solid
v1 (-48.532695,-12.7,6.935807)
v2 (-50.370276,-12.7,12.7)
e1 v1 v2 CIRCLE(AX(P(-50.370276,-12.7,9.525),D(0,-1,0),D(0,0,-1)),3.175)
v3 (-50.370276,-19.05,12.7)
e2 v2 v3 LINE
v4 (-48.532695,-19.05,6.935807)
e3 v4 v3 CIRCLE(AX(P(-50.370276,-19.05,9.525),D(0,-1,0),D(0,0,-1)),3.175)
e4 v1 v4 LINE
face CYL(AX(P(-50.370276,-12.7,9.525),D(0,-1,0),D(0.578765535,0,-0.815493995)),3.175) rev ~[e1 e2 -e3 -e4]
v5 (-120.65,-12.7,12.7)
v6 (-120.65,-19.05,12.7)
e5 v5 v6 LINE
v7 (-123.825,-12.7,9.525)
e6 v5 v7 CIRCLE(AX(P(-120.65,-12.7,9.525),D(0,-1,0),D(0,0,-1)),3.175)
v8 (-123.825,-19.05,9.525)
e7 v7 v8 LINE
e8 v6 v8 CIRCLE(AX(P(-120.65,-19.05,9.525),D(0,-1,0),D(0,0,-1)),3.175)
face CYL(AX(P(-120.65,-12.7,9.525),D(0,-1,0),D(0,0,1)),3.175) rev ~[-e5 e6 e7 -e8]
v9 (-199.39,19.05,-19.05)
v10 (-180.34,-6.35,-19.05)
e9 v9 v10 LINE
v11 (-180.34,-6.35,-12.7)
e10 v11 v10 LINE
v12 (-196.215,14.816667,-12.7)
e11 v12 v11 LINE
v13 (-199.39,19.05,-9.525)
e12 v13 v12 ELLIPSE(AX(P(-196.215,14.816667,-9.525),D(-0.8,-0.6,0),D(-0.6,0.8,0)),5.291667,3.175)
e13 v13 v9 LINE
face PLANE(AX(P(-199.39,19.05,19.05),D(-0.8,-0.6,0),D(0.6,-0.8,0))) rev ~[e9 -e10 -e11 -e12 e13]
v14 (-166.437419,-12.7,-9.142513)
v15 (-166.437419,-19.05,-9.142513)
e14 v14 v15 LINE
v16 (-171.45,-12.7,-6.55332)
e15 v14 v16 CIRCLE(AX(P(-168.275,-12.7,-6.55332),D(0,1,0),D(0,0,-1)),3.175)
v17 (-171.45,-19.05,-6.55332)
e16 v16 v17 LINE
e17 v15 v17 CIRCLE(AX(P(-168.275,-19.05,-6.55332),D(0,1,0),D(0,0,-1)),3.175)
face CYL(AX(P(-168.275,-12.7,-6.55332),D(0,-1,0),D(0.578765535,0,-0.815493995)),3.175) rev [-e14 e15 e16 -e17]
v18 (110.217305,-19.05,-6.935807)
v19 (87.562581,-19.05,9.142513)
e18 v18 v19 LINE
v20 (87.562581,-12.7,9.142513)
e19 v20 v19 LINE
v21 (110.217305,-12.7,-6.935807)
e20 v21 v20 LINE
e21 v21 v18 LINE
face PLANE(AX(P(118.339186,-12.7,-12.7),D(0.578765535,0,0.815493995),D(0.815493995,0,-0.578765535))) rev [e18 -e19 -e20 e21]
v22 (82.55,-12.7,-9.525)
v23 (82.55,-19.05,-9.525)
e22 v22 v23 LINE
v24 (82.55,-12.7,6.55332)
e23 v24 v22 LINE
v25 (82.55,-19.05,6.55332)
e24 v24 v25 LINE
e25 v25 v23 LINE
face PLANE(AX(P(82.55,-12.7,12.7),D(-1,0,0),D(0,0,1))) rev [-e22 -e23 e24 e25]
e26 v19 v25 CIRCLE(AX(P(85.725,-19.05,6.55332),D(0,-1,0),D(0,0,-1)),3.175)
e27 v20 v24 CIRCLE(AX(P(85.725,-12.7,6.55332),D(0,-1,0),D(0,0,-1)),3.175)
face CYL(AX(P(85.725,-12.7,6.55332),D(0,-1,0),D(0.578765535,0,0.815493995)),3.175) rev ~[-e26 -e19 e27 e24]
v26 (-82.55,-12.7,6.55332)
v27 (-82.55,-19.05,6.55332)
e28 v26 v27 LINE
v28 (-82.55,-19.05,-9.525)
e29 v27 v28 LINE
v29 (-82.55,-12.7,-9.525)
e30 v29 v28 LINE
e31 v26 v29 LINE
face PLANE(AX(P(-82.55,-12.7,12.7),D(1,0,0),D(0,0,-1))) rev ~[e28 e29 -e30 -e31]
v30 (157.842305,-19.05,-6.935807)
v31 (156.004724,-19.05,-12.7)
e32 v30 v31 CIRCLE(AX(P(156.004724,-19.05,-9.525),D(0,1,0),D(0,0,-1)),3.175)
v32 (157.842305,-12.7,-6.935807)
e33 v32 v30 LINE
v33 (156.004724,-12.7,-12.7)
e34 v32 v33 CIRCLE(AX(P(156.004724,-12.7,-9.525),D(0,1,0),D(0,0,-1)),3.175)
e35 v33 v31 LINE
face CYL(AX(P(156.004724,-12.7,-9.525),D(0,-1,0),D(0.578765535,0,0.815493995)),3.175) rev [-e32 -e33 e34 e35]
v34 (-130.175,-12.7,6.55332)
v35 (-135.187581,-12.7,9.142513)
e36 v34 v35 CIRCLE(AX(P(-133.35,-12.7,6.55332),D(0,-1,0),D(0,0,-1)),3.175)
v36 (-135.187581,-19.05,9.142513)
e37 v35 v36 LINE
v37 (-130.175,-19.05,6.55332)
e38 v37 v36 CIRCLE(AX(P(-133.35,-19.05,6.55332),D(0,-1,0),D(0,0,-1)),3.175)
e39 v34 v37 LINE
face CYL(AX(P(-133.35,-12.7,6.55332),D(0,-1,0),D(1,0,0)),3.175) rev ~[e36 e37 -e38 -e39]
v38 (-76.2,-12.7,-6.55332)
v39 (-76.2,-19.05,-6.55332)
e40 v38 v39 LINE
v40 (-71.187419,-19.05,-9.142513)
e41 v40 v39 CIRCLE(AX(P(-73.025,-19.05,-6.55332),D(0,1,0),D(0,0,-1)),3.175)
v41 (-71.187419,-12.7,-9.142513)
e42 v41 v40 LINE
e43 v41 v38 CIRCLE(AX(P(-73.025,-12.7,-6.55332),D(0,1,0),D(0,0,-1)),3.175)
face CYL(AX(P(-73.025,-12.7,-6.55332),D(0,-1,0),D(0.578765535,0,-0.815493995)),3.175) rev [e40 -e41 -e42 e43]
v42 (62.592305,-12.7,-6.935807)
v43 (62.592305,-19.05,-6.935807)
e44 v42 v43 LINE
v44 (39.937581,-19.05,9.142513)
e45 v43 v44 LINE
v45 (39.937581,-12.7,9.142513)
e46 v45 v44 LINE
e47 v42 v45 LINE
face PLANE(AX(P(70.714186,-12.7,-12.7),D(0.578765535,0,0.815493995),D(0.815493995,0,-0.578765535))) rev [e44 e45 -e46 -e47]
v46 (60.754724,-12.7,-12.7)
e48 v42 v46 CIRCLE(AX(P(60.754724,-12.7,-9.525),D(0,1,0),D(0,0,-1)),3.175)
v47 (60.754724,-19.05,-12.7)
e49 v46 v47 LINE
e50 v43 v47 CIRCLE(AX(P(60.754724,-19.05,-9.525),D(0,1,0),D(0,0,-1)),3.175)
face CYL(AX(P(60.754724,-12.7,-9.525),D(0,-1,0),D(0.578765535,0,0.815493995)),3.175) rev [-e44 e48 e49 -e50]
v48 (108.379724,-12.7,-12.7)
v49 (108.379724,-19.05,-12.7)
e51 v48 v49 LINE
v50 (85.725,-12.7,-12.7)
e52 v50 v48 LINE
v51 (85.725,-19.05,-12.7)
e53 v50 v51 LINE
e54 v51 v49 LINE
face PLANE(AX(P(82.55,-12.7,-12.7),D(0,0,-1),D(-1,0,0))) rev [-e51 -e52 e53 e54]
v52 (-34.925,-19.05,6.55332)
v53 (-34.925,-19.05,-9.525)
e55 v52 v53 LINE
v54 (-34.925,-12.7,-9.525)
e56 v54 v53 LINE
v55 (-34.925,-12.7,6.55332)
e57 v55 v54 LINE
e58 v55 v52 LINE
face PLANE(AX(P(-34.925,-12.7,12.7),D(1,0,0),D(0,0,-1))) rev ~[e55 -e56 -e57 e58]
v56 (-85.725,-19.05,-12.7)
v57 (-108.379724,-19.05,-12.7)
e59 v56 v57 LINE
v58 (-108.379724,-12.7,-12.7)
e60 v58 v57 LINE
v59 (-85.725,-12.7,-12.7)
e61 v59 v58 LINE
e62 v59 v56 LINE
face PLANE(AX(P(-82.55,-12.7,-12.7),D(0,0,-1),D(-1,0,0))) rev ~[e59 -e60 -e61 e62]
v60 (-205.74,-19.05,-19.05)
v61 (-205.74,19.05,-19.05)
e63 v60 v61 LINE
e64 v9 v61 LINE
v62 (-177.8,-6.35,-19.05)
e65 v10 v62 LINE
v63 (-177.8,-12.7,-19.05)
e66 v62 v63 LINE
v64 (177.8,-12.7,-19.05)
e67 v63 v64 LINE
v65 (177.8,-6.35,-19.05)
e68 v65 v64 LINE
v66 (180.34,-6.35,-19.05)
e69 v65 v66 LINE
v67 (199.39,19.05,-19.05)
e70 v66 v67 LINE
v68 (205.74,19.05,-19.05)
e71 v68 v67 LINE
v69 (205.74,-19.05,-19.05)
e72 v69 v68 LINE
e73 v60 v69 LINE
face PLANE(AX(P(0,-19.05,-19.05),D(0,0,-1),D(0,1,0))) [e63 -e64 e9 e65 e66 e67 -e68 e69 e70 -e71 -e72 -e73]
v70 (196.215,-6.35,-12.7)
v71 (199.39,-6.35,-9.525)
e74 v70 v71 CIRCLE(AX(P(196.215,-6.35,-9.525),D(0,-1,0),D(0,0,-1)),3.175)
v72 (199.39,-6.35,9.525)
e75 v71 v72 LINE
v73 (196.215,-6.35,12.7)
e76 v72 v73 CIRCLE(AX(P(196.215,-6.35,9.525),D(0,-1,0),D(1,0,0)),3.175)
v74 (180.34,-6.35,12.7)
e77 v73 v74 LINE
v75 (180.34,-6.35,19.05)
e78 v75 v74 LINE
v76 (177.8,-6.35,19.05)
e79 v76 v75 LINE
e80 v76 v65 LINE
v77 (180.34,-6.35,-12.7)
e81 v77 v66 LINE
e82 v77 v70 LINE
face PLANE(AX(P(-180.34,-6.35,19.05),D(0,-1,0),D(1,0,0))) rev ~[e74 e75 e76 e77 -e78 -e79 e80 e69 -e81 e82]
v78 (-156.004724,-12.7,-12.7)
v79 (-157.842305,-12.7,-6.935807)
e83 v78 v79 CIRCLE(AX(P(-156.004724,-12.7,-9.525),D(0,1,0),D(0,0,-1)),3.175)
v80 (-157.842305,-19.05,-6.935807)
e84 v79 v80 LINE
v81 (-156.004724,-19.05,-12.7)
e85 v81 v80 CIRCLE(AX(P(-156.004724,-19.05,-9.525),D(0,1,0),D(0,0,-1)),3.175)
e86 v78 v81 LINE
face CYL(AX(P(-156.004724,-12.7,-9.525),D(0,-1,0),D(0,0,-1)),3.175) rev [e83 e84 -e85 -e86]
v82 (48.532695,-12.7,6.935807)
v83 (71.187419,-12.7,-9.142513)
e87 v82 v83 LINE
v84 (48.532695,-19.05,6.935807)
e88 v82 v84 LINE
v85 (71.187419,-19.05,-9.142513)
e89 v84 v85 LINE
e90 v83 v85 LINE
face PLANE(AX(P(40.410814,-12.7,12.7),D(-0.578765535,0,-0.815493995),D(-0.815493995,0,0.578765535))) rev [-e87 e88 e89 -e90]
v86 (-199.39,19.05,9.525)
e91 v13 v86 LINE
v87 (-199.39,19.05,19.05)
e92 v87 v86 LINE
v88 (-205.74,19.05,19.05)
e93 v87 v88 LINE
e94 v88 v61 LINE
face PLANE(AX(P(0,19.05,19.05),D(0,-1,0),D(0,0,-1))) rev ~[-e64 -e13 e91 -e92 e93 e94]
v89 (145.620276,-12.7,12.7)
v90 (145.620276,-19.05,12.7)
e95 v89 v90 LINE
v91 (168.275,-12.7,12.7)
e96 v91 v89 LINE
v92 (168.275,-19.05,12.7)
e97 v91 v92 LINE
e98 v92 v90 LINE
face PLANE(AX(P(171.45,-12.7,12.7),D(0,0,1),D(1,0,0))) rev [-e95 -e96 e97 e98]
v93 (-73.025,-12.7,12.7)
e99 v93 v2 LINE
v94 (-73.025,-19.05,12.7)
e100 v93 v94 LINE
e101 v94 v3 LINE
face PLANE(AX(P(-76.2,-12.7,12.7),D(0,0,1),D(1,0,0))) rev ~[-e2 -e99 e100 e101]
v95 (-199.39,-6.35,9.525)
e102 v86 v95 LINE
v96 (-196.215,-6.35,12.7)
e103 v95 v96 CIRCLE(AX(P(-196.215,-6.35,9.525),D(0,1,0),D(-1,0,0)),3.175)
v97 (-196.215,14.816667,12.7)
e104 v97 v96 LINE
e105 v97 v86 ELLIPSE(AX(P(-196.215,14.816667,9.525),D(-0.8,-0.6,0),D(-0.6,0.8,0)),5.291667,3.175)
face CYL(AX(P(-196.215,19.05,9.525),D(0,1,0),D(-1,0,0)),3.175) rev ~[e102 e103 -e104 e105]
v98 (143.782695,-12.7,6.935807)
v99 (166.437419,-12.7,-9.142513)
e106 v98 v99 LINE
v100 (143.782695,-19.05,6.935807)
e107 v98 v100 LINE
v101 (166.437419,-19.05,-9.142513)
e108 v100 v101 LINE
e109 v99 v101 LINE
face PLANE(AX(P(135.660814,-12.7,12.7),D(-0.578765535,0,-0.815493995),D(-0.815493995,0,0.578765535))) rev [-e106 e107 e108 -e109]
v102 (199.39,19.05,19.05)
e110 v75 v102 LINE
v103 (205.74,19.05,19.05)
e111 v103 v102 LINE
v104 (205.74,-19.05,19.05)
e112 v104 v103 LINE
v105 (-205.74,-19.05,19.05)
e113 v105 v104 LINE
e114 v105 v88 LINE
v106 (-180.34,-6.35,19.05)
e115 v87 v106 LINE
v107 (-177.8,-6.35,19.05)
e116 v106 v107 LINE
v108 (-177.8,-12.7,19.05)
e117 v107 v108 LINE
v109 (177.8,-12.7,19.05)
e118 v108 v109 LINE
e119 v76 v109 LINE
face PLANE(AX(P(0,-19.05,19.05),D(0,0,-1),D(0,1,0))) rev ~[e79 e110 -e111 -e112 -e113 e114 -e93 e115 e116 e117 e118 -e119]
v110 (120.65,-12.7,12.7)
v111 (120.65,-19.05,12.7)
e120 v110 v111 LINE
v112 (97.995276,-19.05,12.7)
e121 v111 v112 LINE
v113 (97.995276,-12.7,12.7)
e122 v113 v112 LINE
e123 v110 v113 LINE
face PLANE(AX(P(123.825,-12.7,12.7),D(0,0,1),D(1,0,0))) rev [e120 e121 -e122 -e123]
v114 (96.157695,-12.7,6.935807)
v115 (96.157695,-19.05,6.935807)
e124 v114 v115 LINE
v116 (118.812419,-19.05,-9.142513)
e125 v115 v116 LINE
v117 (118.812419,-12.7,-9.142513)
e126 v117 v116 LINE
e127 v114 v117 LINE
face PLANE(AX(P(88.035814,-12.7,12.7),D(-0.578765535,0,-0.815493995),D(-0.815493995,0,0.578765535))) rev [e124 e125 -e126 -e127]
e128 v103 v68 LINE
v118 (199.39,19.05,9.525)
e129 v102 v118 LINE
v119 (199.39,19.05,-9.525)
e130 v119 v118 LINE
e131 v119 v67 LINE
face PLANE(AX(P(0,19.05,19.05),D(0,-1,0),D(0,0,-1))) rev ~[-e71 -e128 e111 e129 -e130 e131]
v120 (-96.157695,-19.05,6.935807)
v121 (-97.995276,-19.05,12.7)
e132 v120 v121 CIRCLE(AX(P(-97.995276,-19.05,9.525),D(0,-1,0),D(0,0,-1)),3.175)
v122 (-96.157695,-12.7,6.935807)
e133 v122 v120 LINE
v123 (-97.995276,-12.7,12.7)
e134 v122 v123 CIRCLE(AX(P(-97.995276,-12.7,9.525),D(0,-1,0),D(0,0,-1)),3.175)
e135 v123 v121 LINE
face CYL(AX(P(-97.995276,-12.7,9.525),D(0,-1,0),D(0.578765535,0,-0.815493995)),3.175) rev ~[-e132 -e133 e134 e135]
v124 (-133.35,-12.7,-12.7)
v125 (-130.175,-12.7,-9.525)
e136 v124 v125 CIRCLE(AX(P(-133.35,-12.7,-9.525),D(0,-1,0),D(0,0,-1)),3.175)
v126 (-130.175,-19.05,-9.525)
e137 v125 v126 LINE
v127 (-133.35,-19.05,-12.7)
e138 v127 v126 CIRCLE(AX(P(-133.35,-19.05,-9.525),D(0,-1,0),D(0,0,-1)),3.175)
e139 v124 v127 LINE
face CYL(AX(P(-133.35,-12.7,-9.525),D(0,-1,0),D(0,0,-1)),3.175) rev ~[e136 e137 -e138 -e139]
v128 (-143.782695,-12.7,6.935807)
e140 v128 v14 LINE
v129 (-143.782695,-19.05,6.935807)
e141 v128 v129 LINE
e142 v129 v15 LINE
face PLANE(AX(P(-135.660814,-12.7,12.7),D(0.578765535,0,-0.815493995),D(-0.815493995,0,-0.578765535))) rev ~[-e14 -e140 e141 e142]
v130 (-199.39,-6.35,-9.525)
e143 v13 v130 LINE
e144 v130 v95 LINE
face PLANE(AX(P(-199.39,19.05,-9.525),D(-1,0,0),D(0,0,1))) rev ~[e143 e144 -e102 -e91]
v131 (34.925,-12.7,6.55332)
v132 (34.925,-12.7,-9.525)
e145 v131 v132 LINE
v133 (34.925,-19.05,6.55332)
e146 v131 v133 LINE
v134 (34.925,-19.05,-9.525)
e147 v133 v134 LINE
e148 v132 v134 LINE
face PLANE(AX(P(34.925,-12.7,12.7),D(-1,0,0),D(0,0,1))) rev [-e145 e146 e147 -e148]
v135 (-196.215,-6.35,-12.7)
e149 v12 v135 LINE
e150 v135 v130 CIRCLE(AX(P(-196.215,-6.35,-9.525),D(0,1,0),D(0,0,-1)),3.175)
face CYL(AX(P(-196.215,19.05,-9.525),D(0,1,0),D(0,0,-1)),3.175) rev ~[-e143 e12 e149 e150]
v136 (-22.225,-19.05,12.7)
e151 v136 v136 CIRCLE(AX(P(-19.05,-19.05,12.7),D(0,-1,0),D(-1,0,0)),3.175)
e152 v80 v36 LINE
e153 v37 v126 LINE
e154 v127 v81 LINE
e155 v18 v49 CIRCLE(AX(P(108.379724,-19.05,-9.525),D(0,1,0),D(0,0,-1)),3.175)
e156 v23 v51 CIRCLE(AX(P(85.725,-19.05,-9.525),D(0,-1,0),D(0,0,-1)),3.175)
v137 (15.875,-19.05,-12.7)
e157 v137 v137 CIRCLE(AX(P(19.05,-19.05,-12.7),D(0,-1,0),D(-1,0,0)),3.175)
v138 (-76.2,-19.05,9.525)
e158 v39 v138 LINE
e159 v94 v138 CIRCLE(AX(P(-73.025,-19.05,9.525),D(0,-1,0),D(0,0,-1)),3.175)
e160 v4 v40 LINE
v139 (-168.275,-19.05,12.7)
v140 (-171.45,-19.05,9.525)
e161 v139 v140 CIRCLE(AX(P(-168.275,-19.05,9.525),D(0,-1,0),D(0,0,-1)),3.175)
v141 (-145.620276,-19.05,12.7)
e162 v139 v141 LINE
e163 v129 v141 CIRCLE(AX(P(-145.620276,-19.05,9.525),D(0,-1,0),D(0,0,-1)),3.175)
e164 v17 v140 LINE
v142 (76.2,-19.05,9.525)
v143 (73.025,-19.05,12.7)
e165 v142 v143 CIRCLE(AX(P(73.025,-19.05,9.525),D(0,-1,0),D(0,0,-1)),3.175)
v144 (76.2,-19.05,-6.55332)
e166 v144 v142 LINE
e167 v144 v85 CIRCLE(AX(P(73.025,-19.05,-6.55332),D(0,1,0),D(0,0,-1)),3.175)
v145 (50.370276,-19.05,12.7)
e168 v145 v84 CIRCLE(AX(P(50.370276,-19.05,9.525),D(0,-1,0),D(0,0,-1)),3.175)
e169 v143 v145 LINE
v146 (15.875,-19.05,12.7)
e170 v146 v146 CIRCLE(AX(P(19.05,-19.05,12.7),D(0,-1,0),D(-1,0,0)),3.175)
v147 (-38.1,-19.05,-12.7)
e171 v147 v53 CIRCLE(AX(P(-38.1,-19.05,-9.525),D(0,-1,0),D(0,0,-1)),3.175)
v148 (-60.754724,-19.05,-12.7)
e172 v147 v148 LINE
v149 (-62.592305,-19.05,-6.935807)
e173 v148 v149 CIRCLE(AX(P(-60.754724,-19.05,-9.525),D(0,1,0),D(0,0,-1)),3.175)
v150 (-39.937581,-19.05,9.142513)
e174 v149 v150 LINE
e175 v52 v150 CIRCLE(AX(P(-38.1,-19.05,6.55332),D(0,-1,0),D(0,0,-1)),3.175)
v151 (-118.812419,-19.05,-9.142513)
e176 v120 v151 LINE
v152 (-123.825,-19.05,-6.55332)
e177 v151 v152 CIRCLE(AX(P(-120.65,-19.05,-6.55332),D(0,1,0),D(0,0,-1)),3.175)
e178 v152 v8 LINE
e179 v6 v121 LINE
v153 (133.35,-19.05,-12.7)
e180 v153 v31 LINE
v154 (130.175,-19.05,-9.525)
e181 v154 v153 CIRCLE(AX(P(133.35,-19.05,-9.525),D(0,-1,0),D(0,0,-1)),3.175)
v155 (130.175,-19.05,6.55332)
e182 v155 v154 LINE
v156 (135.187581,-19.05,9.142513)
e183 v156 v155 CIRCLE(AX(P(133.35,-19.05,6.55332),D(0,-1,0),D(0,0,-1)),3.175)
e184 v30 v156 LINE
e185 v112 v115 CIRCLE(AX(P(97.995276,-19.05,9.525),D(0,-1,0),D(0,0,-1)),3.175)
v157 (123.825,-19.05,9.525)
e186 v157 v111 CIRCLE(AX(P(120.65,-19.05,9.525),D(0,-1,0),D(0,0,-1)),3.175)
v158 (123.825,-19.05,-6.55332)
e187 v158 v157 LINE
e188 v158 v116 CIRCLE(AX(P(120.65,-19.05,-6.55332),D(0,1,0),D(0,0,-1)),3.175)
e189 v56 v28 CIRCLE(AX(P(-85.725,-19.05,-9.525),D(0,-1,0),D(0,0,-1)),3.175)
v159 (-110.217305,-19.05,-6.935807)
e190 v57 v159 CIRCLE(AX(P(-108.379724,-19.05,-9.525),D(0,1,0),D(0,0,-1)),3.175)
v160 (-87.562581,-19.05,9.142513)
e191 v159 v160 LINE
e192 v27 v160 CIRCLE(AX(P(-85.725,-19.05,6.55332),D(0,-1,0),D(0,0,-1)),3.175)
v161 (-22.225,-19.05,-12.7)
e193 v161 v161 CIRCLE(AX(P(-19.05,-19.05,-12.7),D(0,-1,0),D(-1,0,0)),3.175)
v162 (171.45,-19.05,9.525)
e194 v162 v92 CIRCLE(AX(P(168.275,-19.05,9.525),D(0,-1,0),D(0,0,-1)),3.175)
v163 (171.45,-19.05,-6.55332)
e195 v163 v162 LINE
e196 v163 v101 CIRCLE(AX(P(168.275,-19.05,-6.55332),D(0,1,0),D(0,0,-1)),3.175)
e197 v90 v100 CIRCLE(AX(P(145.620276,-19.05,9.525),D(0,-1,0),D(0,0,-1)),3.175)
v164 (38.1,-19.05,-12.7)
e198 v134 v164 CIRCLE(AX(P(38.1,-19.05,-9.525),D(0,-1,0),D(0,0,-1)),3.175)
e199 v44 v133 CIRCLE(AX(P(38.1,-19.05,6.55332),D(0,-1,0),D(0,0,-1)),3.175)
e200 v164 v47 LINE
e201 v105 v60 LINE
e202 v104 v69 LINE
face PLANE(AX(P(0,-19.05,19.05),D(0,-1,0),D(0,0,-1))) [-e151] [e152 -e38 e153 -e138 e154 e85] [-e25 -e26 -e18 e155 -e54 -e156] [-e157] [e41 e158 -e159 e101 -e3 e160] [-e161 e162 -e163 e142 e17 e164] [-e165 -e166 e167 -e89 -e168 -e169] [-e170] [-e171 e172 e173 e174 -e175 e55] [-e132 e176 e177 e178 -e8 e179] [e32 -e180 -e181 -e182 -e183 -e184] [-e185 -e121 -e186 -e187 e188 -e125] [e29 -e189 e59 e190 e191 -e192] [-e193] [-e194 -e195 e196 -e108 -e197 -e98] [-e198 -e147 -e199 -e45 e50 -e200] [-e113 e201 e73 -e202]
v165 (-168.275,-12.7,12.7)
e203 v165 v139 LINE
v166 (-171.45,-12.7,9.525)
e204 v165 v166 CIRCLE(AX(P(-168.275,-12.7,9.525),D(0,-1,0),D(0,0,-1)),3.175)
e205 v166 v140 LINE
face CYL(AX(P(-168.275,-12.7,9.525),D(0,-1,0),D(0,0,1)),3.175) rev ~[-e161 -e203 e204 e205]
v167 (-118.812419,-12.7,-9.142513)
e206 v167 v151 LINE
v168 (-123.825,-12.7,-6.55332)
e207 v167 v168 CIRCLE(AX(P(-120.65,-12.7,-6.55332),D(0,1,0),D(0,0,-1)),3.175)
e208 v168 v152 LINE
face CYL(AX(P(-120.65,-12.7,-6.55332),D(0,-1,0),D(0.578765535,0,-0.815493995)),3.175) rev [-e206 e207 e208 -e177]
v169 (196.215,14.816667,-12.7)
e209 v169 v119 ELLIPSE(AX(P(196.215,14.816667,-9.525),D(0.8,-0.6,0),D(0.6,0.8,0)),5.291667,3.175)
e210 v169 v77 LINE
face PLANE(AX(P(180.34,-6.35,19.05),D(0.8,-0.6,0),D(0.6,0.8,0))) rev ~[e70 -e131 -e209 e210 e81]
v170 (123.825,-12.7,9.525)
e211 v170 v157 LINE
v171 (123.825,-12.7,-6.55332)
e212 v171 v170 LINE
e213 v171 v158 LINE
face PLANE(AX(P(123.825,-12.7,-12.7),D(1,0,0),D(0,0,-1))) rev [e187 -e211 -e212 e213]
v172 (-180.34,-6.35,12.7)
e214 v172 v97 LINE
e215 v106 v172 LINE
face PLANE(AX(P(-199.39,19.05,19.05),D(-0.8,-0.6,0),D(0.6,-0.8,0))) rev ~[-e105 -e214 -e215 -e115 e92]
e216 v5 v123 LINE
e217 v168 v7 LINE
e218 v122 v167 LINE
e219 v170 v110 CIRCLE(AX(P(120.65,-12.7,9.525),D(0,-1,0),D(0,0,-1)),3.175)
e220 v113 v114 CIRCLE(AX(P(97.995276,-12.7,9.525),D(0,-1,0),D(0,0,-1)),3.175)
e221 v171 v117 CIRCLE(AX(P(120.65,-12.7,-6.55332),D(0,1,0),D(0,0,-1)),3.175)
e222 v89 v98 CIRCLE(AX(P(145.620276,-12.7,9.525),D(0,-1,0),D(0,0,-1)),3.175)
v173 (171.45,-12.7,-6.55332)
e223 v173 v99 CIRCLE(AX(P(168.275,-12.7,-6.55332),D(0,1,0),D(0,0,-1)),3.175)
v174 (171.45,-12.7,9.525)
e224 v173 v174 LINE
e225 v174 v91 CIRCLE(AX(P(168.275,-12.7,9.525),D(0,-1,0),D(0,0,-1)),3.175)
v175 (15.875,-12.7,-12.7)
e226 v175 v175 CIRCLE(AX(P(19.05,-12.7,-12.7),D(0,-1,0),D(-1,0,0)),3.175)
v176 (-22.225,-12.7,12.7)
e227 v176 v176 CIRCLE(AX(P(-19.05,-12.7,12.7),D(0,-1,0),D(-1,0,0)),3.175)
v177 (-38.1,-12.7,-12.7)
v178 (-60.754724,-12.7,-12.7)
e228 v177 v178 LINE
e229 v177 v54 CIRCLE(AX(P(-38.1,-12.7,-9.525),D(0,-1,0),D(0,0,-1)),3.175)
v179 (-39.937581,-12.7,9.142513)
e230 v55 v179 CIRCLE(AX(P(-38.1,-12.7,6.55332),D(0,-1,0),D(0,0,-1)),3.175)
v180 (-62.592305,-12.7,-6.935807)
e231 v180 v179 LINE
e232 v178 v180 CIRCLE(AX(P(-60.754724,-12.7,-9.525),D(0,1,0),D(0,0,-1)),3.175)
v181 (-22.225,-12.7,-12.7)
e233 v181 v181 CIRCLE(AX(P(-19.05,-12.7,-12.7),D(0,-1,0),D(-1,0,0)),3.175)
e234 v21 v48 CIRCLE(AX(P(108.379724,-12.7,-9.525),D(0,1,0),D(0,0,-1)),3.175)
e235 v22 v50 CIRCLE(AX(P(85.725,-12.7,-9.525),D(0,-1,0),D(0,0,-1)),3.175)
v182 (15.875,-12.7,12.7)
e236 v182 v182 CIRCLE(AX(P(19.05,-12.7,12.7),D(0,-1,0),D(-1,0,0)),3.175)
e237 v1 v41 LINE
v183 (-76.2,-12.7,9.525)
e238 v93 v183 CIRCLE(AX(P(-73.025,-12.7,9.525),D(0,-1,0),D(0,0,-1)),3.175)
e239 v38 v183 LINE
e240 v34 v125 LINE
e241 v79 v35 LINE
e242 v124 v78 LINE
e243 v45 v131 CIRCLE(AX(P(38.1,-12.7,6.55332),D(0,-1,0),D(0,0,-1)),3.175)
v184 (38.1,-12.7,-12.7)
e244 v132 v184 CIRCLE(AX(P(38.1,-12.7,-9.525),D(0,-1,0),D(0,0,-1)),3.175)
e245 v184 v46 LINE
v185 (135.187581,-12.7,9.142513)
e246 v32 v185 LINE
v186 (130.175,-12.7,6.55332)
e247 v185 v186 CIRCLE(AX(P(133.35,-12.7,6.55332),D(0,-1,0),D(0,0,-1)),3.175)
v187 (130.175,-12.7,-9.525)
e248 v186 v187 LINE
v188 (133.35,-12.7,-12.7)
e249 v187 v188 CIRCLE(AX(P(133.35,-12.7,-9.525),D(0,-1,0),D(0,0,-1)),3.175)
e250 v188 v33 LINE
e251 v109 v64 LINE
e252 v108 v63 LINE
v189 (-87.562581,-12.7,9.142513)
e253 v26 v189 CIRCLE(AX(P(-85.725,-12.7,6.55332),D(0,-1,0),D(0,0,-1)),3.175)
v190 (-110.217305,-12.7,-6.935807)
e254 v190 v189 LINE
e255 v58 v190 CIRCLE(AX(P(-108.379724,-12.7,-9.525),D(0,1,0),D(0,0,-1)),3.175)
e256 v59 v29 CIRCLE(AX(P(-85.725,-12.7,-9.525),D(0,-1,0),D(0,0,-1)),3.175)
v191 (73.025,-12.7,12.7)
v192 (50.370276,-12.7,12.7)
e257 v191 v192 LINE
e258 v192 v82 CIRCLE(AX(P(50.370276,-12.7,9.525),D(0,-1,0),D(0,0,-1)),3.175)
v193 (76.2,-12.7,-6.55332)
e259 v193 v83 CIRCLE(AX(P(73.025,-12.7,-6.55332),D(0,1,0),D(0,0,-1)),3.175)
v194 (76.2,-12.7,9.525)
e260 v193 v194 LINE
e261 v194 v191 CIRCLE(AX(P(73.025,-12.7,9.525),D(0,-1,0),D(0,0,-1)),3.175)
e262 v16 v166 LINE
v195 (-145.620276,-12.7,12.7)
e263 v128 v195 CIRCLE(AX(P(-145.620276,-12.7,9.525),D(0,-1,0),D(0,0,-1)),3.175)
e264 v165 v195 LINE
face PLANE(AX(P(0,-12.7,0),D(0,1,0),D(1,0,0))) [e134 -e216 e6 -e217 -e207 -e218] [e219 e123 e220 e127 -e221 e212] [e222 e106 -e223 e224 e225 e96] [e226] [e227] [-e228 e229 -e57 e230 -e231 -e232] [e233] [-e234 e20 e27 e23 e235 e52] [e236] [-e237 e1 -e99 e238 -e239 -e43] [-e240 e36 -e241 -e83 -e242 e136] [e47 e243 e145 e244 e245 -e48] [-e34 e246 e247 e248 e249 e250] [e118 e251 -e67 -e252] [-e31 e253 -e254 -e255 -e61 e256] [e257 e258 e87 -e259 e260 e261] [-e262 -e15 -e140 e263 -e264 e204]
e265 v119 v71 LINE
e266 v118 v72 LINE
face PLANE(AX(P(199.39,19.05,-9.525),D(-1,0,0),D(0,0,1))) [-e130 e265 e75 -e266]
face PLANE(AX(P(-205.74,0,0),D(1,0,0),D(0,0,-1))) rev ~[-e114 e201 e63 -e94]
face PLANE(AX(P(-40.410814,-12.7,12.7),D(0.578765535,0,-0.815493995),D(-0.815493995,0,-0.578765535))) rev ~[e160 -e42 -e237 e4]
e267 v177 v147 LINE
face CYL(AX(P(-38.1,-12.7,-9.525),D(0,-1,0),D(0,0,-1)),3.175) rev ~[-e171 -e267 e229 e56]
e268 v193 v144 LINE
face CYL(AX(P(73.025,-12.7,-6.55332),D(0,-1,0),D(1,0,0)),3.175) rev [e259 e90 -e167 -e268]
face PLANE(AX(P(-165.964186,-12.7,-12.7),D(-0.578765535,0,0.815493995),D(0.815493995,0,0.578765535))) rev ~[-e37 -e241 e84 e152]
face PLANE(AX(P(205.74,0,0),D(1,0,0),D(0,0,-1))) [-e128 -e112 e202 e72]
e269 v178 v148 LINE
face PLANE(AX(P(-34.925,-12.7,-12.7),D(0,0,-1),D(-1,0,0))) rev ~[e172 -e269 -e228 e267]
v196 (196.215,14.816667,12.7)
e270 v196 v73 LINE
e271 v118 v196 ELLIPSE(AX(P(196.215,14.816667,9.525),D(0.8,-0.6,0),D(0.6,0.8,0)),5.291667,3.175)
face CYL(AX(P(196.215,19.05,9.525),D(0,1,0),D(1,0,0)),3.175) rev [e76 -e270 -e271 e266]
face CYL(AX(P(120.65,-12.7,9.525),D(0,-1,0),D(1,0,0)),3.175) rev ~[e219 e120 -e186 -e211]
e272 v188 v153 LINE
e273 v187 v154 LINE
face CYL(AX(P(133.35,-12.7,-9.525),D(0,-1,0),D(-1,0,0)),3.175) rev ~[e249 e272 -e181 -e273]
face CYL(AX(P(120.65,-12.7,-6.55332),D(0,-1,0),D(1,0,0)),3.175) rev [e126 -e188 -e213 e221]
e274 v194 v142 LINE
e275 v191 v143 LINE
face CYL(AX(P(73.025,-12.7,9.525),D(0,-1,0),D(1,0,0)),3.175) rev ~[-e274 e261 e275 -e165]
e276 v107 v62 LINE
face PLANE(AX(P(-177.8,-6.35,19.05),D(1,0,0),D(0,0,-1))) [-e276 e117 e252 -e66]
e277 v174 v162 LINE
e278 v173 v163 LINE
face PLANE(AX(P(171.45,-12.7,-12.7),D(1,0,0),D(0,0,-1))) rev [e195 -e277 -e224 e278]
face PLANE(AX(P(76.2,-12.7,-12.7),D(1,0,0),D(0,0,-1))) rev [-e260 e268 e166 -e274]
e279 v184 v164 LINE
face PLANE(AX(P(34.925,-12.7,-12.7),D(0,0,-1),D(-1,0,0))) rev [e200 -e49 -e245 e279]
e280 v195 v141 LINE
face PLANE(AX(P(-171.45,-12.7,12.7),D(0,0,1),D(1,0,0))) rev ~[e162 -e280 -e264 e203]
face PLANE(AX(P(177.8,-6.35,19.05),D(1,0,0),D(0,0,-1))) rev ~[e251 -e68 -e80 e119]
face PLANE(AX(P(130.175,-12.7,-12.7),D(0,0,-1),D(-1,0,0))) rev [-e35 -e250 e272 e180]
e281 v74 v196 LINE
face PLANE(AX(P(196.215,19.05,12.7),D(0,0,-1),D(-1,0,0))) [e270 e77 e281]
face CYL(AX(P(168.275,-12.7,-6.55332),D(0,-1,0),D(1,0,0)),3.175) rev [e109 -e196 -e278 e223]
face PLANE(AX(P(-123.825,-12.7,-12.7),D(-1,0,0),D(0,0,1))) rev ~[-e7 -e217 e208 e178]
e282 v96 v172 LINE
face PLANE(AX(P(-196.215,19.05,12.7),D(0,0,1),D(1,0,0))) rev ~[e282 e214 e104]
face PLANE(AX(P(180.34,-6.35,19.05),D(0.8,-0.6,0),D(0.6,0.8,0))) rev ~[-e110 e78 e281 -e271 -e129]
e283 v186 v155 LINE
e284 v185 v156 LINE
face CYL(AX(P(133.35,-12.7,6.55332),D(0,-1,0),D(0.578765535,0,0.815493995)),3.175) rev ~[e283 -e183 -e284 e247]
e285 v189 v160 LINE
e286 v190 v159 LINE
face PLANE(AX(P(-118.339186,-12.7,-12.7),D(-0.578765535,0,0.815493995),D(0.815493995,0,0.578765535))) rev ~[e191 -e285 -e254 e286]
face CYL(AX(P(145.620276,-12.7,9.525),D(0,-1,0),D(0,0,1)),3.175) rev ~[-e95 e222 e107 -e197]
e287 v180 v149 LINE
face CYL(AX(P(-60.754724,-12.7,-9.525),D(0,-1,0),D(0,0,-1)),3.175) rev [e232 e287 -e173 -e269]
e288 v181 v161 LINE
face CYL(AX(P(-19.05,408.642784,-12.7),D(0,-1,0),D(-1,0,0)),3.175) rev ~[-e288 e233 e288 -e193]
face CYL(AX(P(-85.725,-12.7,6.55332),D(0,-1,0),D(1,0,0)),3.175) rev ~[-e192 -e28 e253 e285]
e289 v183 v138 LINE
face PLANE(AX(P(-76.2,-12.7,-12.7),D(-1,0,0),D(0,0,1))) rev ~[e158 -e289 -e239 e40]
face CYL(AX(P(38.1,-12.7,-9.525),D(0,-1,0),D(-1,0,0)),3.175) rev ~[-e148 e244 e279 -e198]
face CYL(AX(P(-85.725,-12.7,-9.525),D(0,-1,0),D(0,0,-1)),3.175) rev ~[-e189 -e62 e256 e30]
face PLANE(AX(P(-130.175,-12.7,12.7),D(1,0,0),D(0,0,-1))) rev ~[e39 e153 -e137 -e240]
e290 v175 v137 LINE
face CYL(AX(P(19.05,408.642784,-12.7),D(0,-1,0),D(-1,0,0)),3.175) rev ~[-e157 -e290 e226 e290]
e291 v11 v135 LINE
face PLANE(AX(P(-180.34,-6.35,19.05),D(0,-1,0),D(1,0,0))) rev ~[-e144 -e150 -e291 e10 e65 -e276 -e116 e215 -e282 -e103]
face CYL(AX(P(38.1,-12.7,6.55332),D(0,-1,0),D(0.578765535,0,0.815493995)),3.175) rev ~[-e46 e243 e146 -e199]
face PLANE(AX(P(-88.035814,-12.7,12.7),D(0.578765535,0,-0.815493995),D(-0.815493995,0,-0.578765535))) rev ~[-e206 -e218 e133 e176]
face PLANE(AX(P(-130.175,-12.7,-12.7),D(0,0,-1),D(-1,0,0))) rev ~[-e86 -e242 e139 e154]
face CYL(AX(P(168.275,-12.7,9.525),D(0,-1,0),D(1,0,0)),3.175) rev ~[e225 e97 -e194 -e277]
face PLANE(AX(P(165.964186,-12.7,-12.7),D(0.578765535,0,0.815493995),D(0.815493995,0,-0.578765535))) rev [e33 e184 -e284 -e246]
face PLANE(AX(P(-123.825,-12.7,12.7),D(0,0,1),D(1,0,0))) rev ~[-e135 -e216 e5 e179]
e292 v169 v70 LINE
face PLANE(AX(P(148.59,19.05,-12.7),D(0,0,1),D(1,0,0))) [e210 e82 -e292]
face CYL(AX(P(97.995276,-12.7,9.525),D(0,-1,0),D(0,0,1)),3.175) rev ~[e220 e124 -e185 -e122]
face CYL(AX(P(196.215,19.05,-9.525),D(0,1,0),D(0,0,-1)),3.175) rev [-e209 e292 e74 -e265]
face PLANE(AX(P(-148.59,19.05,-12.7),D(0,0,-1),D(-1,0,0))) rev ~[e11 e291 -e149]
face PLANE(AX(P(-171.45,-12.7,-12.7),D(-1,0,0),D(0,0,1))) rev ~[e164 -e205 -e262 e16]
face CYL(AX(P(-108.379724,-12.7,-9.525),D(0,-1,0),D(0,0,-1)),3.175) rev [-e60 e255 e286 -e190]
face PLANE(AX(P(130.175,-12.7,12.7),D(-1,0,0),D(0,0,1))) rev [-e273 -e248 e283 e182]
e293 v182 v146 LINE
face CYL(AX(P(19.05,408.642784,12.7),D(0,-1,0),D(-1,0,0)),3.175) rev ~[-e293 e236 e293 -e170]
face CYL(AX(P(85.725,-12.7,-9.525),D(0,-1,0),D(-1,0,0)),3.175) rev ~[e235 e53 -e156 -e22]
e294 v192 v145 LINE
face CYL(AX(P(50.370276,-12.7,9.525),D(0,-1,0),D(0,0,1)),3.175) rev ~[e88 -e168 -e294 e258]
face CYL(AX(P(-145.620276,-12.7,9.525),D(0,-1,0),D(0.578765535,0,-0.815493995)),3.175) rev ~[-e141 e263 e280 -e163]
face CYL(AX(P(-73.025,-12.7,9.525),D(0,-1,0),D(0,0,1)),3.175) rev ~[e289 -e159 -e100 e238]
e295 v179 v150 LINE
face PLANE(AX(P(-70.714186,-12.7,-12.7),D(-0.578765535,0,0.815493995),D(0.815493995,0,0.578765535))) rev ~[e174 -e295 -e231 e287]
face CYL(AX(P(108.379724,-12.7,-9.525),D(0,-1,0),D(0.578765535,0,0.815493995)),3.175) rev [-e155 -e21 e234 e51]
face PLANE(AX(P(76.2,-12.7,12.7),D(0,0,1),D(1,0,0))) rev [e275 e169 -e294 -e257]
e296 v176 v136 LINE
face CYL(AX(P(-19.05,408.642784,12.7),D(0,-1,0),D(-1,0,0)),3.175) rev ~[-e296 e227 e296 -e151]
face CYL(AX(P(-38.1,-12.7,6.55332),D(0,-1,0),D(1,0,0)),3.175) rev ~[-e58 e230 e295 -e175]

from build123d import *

# Parameters (mm, degrees)
SKETCH1_W                   = 38.1
SKETCH1_H                   = 38.1
BOSS_EXTRUDE1_DEPTH         = 205.74
CUT_EXTRUDE1_REACH          = 212.103
CUT_EXTRUDE2_DEPTH          = 25.4
F_1_4_0_25_DIAMETER_HOLE1_D = 6.35
SKETCH10_W                  = 355.6
SKETCH10_H                  = 38.1
CUT_EXTRUDE3_DEPTH          = 6.35
CUT_EXTRUDE4_REACH          = 211.045
FILLET1_R                   = 3.175
FILLET1_OF_MIRROR1_R        = 3.175


with BuildPart() as part:
    # Sketch1 → Boss-Extrude1 (new, symmetric)
    with BuildSketch(Plane(origin=(0, 0, 0), x_dir=(0, 0, -1), z_dir=(1, 0, 0))):
        Rectangle(SKETCH1_W, SKETCH1_H)
    extrude(amount=BOSS_EXTRUDE1_DEPTH, both=True)

    # Sketch3 → Cut-Extrude1 (cut, up to next)
    with BuildSketch(Plane.XY.offset(19.05), mode=Mode.PRIVATE) as cut_extrude1_sk1:
        Polygon((-199.39, 19.05), (-180.34, -6.35), (180.34, -6.35), (199.39, 19.05), align=None)
    cut_extrude1_tool1 = extrude(cut_extrude1_sk1.sketch, amount=-CUT_EXTRUDE1_REACH, mode=Mode.PRIVATE) & part.part
    add(cut_extrude1_tool1.solids().sort_by_distance((0, 6.562375, 19.05))[0], mode=Mode.SUBTRACT)

    # Sketch4 → Cut-Extrude2 (cut)
    with BuildSketch(Plane(origin=(0, 19.05, 0), x_dir=(1, 0, 0), z_dir=(0, 1, 0))):
        with BuildLine():
            Line((-199.39, 9.525), (-199.39, -9.525))
            ThreePointArc((-199.39, -9.525), (-198.46006403, -11.77006403), (-196.215, -12.7))
            Line((-196.215, -12.7), (-148.59, -12.7))
            Line((-148.59, -12.7), (-148.59, 12.7))
            Line((-148.59, 12.7), (-196.215, 12.7))
            ThreePointArc((-196.215, 12.7), (-198.46006403, 11.77006403), (-199.39, 9.525))
        make_face()
        with BuildLine():
            Line((148.59, 12.7), (196.215, 12.7))
            ThreePointArc((196.215, 12.7), (198.46006403, 11.77006403), (199.39, 9.525))
            Line((199.39, 9.525), (199.39, -9.525))
            ThreePointArc((199.39, -9.525), (198.46006403, -11.77006403), (196.215, -12.7))
            Line((196.215, -12.7), (148.59, -12.7))
            Line((148.59, -12.7), (148.59, 12.7))
        make_face()
    extrude(amount=-CUT_EXTRUDE2_DEPTH, mode=Mode.SUBTRACT)

    # 1/4 (0.25) Diameter Hole1 (through all)
    with Locations(Plane(origin=(0, -6.35, 0), x_dir=(1, 0, 0), z_dir=(0, 1, 0))):
        with Locations((19.05, -12.7), (-19.05, 12.7), (-19.05, -12.7), (19.05, 12.7)):
            Hole(F_1_4_0_25_DIAMETER_HOLE1_D / 2)

    # Sketch10 → Cut-Extrude3 (cut)
    with BuildSketch(Plane(origin=(0, -6.35, 0), x_dir=(1, 0, 0), z_dir=(0, 1, 0))):
        Rectangle(SKETCH10_W, SKETCH10_H)
    extrude(amount=-CUT_EXTRUDE3_DEPTH, mode=Mode.SUBTRACT)

    # Sketch11 → Cut-Extrude4 (cut, up to next)
    with BuildSketch(Plane(origin=(0, -12.7, 0), x_dir=(1, 0, 0), z_dir=(0, 1, 0)), mode=Mode.PRIVATE) as cut_extrude4_sk1:
        Polygon((-171.45, 12.7), (-171.45, -12.7), (-135.660813869, -12.7), align=None)
    cut_extrude4_tool1 = extrude(cut_extrude4_sk1.sketch, amount=-CUT_EXTRUDE4_REACH, mode=Mode.PRIVATE) & part.part
    # Sketch11 → Cut-Extrude4 (cut, up to next)
    with BuildSketch(Plane(origin=(0, -12.7, 0), x_dir=(1, 0, 0), z_dir=(0, 1, 0)), mode=Mode.PRIVATE) as cut_extrude4_sk2:
        Polygon((-165.964186131, 12.7), (-130.175, -12.7), (-130.175, 12.7), align=None)
    cut_extrude4_tool2 = extrude(cut_extrude4_sk2.sketch, amount=-CUT_EXTRUDE4_REACH, mode=Mode.PRIVATE) & part.part
    # Sketch11 → Cut-Extrude4 (cut, up to next)
    with BuildSketch(Plane(origin=(0, -12.7, 0), x_dir=(1, 0, 0), z_dir=(0, 1, 0)), mode=Mode.PRIVATE) as cut_extrude4_sk3:
        Polygon((-123.825, 12.7), (-123.825, -12.7), (-88.035813869, -12.7), align=None)
    cut_extrude4_tool3 = extrude(cut_extrude4_sk3.sketch, amount=-CUT_EXTRUDE4_REACH, mode=Mode.PRIVATE) & part.part
    # Sketch11 → Cut-Extrude4 (cut, up to next)
    with BuildSketch(Plane(origin=(0, -12.7, 0), x_dir=(1, 0, 0), z_dir=(0, 1, 0)), mode=Mode.PRIVATE) as cut_extrude4_sk4:
        Polygon((-118.339186131, 12.7), (-82.55, -12.7), (-82.55, 12.7), align=None)
    cut_extrude4_tool4 = extrude(cut_extrude4_sk4.sketch, amount=-CUT_EXTRUDE4_REACH, mode=Mode.PRIVATE) & part.part
    # Sketch11 → Cut-Extrude4 (cut, up to next)
    with BuildSketch(Plane(origin=(0, -12.7, 0), x_dir=(1, 0, 0), z_dir=(0, 1, 0)), mode=Mode.PRIVATE) as cut_extrude4_sk5:
        Polygon((-76.2, 12.7), (-76.2, -12.7), (-40.410813869, -12.7), align=None)
    cut_extrude4_tool5 = extrude(cut_extrude4_sk5.sketch, amount=-CUT_EXTRUDE4_REACH, mode=Mode.PRIVATE) & part.part
    # Sketch11 → Cut-Extrude4 (cut, up to next)
    with BuildSketch(Plane(origin=(0, -12.7, 0), x_dir=(1, 0, 0), z_dir=(0, 1, 0)), mode=Mode.PRIVATE) as cut_extrude4_sk6:
        Polygon((-70.714186131, 12.7), (-34.925, -12.7), (-34.925, 12.7), align=None)
    cut_extrude4_tool6 = extrude(cut_extrude4_sk6.sketch, amount=-CUT_EXTRUDE4_REACH, mode=Mode.PRIVATE) & part.part
    cut_extrude4_1 = cut_extrude4_tool1.solids().sort_by_distance((-159.520271, -12.7, 4.233333))[0]
    add(cut_extrude4_1, mode=Mode.SUBTRACT)
    cut_extrude4_2 = cut_extrude4_tool2.solids().sort_by_distance((-142.104729, -12.7, -4.233333))[0]
    add(cut_extrude4_2, mode=Mode.SUBTRACT)
    cut_extrude4_3 = cut_extrude4_tool3.solids().sort_by_distance((-111.895271, -12.7, 4.233333))[0]
    add(cut_extrude4_3, mode=Mode.SUBTRACT)
    cut_extrude4_4 = cut_extrude4_tool4.solids().sort_by_distance((-94.479729, -12.7, -4.233333))[0]
    add(cut_extrude4_4, mode=Mode.SUBTRACT)
    cut_extrude4_5 = cut_extrude4_tool5.solids().sort_by_distance((-64.270271, -12.7, 4.233333))[0]
    add(cut_extrude4_5, mode=Mode.SUBTRACT)
    cut_extrude4_6 = cut_extrude4_tool6.solids().sort_by_distance((-46.854729, -12.7, -4.233333))[0]
    add(cut_extrude4_6, mode=Mode.SUBTRACT)
    cut_extrude4 = cut_extrude4_1 + cut_extrude4_2 + cut_extrude4_3 + cut_extrude4_4 + cut_extrude4_5 + cut_extrude4_6  # Cut-Extrude4 as one shape, for the pattern or mirror that repeats it

    # Fillet1
    fillet1_edges = [part.edges().sort_by_distance(p)[0] for p in [
        (-171.45, -15.875, -12.7),
        (-135.660813869, -15.875, 12.7),
        (-171.45, -15.875, 12.7),
        (-165.964186131, -15.875, -12.7),
        (-130.175, -15.875, -12.7),
        (-130.175, -15.875, 12.7),
        (-123.825, -15.875, -12.7),
        (-88.035813869, -15.875, 12.7),
        (-123.825, -15.875, 12.7),
        (-118.339186131, -15.875, -12.7),
        (-82.55, -15.875, -12.7),
        (-82.55, -15.875, 12.7),
        (-76.2, -15.875, -12.7),
        (-40.410813869, -15.875, 12.7),
        (-76.2, -15.875, 12.7),
        (-70.714186131, -15.875, -12.7),
        (-34.925, -15.875, -12.7),
        (-34.925, -15.875, 12.7),
    ]]
    fillet(fillet1_edges, radius=FILLET1_R)

    # Mirror1: Cut-Extrude4 across plane
    add(cut_extrude4.mirror(Plane(origin=(0, 0, 0), x_dir=(0, 0, 1), z_dir=(1, 0, 0))), mode=Mode.SUBTRACT)

    # Fillet1 of Mirror1
    fillet1_of_mirror1_edges = [part.edges().sort_by_distance(p)[0] for p in [
        (171.45, -15.875, -12.7),
        (135.660813869, -15.875, 12.7),
        (171.45, -15.875, 12.7),
        (165.964186131, -15.875, -12.7),
        (130.175, -15.875, -12.7),
        (130.175, -15.875, 12.7),
        (123.825, -15.875, -12.7),
        (88.035813869, -15.875, 12.7),
        (123.825, -15.875, 12.7),
        (118.339186131, -15.875, -12.7),
        (82.55, -15.875, -12.7),
        (82.55, -15.875, 12.7),
        (76.2, -15.875, -12.7),
        (40.410813869, -15.875, 12.7),
        (76.2, -15.875, 12.7),
        (70.714186131, -15.875, -12.7),
        (34.925, -15.875, -12.7),
        (34.925, -15.875, 12.7),
    ]]
    fillet(fillet1_of_mirror1_edges, radius=FILLET1_OF_MIRROR1_R)


solid = part.part
